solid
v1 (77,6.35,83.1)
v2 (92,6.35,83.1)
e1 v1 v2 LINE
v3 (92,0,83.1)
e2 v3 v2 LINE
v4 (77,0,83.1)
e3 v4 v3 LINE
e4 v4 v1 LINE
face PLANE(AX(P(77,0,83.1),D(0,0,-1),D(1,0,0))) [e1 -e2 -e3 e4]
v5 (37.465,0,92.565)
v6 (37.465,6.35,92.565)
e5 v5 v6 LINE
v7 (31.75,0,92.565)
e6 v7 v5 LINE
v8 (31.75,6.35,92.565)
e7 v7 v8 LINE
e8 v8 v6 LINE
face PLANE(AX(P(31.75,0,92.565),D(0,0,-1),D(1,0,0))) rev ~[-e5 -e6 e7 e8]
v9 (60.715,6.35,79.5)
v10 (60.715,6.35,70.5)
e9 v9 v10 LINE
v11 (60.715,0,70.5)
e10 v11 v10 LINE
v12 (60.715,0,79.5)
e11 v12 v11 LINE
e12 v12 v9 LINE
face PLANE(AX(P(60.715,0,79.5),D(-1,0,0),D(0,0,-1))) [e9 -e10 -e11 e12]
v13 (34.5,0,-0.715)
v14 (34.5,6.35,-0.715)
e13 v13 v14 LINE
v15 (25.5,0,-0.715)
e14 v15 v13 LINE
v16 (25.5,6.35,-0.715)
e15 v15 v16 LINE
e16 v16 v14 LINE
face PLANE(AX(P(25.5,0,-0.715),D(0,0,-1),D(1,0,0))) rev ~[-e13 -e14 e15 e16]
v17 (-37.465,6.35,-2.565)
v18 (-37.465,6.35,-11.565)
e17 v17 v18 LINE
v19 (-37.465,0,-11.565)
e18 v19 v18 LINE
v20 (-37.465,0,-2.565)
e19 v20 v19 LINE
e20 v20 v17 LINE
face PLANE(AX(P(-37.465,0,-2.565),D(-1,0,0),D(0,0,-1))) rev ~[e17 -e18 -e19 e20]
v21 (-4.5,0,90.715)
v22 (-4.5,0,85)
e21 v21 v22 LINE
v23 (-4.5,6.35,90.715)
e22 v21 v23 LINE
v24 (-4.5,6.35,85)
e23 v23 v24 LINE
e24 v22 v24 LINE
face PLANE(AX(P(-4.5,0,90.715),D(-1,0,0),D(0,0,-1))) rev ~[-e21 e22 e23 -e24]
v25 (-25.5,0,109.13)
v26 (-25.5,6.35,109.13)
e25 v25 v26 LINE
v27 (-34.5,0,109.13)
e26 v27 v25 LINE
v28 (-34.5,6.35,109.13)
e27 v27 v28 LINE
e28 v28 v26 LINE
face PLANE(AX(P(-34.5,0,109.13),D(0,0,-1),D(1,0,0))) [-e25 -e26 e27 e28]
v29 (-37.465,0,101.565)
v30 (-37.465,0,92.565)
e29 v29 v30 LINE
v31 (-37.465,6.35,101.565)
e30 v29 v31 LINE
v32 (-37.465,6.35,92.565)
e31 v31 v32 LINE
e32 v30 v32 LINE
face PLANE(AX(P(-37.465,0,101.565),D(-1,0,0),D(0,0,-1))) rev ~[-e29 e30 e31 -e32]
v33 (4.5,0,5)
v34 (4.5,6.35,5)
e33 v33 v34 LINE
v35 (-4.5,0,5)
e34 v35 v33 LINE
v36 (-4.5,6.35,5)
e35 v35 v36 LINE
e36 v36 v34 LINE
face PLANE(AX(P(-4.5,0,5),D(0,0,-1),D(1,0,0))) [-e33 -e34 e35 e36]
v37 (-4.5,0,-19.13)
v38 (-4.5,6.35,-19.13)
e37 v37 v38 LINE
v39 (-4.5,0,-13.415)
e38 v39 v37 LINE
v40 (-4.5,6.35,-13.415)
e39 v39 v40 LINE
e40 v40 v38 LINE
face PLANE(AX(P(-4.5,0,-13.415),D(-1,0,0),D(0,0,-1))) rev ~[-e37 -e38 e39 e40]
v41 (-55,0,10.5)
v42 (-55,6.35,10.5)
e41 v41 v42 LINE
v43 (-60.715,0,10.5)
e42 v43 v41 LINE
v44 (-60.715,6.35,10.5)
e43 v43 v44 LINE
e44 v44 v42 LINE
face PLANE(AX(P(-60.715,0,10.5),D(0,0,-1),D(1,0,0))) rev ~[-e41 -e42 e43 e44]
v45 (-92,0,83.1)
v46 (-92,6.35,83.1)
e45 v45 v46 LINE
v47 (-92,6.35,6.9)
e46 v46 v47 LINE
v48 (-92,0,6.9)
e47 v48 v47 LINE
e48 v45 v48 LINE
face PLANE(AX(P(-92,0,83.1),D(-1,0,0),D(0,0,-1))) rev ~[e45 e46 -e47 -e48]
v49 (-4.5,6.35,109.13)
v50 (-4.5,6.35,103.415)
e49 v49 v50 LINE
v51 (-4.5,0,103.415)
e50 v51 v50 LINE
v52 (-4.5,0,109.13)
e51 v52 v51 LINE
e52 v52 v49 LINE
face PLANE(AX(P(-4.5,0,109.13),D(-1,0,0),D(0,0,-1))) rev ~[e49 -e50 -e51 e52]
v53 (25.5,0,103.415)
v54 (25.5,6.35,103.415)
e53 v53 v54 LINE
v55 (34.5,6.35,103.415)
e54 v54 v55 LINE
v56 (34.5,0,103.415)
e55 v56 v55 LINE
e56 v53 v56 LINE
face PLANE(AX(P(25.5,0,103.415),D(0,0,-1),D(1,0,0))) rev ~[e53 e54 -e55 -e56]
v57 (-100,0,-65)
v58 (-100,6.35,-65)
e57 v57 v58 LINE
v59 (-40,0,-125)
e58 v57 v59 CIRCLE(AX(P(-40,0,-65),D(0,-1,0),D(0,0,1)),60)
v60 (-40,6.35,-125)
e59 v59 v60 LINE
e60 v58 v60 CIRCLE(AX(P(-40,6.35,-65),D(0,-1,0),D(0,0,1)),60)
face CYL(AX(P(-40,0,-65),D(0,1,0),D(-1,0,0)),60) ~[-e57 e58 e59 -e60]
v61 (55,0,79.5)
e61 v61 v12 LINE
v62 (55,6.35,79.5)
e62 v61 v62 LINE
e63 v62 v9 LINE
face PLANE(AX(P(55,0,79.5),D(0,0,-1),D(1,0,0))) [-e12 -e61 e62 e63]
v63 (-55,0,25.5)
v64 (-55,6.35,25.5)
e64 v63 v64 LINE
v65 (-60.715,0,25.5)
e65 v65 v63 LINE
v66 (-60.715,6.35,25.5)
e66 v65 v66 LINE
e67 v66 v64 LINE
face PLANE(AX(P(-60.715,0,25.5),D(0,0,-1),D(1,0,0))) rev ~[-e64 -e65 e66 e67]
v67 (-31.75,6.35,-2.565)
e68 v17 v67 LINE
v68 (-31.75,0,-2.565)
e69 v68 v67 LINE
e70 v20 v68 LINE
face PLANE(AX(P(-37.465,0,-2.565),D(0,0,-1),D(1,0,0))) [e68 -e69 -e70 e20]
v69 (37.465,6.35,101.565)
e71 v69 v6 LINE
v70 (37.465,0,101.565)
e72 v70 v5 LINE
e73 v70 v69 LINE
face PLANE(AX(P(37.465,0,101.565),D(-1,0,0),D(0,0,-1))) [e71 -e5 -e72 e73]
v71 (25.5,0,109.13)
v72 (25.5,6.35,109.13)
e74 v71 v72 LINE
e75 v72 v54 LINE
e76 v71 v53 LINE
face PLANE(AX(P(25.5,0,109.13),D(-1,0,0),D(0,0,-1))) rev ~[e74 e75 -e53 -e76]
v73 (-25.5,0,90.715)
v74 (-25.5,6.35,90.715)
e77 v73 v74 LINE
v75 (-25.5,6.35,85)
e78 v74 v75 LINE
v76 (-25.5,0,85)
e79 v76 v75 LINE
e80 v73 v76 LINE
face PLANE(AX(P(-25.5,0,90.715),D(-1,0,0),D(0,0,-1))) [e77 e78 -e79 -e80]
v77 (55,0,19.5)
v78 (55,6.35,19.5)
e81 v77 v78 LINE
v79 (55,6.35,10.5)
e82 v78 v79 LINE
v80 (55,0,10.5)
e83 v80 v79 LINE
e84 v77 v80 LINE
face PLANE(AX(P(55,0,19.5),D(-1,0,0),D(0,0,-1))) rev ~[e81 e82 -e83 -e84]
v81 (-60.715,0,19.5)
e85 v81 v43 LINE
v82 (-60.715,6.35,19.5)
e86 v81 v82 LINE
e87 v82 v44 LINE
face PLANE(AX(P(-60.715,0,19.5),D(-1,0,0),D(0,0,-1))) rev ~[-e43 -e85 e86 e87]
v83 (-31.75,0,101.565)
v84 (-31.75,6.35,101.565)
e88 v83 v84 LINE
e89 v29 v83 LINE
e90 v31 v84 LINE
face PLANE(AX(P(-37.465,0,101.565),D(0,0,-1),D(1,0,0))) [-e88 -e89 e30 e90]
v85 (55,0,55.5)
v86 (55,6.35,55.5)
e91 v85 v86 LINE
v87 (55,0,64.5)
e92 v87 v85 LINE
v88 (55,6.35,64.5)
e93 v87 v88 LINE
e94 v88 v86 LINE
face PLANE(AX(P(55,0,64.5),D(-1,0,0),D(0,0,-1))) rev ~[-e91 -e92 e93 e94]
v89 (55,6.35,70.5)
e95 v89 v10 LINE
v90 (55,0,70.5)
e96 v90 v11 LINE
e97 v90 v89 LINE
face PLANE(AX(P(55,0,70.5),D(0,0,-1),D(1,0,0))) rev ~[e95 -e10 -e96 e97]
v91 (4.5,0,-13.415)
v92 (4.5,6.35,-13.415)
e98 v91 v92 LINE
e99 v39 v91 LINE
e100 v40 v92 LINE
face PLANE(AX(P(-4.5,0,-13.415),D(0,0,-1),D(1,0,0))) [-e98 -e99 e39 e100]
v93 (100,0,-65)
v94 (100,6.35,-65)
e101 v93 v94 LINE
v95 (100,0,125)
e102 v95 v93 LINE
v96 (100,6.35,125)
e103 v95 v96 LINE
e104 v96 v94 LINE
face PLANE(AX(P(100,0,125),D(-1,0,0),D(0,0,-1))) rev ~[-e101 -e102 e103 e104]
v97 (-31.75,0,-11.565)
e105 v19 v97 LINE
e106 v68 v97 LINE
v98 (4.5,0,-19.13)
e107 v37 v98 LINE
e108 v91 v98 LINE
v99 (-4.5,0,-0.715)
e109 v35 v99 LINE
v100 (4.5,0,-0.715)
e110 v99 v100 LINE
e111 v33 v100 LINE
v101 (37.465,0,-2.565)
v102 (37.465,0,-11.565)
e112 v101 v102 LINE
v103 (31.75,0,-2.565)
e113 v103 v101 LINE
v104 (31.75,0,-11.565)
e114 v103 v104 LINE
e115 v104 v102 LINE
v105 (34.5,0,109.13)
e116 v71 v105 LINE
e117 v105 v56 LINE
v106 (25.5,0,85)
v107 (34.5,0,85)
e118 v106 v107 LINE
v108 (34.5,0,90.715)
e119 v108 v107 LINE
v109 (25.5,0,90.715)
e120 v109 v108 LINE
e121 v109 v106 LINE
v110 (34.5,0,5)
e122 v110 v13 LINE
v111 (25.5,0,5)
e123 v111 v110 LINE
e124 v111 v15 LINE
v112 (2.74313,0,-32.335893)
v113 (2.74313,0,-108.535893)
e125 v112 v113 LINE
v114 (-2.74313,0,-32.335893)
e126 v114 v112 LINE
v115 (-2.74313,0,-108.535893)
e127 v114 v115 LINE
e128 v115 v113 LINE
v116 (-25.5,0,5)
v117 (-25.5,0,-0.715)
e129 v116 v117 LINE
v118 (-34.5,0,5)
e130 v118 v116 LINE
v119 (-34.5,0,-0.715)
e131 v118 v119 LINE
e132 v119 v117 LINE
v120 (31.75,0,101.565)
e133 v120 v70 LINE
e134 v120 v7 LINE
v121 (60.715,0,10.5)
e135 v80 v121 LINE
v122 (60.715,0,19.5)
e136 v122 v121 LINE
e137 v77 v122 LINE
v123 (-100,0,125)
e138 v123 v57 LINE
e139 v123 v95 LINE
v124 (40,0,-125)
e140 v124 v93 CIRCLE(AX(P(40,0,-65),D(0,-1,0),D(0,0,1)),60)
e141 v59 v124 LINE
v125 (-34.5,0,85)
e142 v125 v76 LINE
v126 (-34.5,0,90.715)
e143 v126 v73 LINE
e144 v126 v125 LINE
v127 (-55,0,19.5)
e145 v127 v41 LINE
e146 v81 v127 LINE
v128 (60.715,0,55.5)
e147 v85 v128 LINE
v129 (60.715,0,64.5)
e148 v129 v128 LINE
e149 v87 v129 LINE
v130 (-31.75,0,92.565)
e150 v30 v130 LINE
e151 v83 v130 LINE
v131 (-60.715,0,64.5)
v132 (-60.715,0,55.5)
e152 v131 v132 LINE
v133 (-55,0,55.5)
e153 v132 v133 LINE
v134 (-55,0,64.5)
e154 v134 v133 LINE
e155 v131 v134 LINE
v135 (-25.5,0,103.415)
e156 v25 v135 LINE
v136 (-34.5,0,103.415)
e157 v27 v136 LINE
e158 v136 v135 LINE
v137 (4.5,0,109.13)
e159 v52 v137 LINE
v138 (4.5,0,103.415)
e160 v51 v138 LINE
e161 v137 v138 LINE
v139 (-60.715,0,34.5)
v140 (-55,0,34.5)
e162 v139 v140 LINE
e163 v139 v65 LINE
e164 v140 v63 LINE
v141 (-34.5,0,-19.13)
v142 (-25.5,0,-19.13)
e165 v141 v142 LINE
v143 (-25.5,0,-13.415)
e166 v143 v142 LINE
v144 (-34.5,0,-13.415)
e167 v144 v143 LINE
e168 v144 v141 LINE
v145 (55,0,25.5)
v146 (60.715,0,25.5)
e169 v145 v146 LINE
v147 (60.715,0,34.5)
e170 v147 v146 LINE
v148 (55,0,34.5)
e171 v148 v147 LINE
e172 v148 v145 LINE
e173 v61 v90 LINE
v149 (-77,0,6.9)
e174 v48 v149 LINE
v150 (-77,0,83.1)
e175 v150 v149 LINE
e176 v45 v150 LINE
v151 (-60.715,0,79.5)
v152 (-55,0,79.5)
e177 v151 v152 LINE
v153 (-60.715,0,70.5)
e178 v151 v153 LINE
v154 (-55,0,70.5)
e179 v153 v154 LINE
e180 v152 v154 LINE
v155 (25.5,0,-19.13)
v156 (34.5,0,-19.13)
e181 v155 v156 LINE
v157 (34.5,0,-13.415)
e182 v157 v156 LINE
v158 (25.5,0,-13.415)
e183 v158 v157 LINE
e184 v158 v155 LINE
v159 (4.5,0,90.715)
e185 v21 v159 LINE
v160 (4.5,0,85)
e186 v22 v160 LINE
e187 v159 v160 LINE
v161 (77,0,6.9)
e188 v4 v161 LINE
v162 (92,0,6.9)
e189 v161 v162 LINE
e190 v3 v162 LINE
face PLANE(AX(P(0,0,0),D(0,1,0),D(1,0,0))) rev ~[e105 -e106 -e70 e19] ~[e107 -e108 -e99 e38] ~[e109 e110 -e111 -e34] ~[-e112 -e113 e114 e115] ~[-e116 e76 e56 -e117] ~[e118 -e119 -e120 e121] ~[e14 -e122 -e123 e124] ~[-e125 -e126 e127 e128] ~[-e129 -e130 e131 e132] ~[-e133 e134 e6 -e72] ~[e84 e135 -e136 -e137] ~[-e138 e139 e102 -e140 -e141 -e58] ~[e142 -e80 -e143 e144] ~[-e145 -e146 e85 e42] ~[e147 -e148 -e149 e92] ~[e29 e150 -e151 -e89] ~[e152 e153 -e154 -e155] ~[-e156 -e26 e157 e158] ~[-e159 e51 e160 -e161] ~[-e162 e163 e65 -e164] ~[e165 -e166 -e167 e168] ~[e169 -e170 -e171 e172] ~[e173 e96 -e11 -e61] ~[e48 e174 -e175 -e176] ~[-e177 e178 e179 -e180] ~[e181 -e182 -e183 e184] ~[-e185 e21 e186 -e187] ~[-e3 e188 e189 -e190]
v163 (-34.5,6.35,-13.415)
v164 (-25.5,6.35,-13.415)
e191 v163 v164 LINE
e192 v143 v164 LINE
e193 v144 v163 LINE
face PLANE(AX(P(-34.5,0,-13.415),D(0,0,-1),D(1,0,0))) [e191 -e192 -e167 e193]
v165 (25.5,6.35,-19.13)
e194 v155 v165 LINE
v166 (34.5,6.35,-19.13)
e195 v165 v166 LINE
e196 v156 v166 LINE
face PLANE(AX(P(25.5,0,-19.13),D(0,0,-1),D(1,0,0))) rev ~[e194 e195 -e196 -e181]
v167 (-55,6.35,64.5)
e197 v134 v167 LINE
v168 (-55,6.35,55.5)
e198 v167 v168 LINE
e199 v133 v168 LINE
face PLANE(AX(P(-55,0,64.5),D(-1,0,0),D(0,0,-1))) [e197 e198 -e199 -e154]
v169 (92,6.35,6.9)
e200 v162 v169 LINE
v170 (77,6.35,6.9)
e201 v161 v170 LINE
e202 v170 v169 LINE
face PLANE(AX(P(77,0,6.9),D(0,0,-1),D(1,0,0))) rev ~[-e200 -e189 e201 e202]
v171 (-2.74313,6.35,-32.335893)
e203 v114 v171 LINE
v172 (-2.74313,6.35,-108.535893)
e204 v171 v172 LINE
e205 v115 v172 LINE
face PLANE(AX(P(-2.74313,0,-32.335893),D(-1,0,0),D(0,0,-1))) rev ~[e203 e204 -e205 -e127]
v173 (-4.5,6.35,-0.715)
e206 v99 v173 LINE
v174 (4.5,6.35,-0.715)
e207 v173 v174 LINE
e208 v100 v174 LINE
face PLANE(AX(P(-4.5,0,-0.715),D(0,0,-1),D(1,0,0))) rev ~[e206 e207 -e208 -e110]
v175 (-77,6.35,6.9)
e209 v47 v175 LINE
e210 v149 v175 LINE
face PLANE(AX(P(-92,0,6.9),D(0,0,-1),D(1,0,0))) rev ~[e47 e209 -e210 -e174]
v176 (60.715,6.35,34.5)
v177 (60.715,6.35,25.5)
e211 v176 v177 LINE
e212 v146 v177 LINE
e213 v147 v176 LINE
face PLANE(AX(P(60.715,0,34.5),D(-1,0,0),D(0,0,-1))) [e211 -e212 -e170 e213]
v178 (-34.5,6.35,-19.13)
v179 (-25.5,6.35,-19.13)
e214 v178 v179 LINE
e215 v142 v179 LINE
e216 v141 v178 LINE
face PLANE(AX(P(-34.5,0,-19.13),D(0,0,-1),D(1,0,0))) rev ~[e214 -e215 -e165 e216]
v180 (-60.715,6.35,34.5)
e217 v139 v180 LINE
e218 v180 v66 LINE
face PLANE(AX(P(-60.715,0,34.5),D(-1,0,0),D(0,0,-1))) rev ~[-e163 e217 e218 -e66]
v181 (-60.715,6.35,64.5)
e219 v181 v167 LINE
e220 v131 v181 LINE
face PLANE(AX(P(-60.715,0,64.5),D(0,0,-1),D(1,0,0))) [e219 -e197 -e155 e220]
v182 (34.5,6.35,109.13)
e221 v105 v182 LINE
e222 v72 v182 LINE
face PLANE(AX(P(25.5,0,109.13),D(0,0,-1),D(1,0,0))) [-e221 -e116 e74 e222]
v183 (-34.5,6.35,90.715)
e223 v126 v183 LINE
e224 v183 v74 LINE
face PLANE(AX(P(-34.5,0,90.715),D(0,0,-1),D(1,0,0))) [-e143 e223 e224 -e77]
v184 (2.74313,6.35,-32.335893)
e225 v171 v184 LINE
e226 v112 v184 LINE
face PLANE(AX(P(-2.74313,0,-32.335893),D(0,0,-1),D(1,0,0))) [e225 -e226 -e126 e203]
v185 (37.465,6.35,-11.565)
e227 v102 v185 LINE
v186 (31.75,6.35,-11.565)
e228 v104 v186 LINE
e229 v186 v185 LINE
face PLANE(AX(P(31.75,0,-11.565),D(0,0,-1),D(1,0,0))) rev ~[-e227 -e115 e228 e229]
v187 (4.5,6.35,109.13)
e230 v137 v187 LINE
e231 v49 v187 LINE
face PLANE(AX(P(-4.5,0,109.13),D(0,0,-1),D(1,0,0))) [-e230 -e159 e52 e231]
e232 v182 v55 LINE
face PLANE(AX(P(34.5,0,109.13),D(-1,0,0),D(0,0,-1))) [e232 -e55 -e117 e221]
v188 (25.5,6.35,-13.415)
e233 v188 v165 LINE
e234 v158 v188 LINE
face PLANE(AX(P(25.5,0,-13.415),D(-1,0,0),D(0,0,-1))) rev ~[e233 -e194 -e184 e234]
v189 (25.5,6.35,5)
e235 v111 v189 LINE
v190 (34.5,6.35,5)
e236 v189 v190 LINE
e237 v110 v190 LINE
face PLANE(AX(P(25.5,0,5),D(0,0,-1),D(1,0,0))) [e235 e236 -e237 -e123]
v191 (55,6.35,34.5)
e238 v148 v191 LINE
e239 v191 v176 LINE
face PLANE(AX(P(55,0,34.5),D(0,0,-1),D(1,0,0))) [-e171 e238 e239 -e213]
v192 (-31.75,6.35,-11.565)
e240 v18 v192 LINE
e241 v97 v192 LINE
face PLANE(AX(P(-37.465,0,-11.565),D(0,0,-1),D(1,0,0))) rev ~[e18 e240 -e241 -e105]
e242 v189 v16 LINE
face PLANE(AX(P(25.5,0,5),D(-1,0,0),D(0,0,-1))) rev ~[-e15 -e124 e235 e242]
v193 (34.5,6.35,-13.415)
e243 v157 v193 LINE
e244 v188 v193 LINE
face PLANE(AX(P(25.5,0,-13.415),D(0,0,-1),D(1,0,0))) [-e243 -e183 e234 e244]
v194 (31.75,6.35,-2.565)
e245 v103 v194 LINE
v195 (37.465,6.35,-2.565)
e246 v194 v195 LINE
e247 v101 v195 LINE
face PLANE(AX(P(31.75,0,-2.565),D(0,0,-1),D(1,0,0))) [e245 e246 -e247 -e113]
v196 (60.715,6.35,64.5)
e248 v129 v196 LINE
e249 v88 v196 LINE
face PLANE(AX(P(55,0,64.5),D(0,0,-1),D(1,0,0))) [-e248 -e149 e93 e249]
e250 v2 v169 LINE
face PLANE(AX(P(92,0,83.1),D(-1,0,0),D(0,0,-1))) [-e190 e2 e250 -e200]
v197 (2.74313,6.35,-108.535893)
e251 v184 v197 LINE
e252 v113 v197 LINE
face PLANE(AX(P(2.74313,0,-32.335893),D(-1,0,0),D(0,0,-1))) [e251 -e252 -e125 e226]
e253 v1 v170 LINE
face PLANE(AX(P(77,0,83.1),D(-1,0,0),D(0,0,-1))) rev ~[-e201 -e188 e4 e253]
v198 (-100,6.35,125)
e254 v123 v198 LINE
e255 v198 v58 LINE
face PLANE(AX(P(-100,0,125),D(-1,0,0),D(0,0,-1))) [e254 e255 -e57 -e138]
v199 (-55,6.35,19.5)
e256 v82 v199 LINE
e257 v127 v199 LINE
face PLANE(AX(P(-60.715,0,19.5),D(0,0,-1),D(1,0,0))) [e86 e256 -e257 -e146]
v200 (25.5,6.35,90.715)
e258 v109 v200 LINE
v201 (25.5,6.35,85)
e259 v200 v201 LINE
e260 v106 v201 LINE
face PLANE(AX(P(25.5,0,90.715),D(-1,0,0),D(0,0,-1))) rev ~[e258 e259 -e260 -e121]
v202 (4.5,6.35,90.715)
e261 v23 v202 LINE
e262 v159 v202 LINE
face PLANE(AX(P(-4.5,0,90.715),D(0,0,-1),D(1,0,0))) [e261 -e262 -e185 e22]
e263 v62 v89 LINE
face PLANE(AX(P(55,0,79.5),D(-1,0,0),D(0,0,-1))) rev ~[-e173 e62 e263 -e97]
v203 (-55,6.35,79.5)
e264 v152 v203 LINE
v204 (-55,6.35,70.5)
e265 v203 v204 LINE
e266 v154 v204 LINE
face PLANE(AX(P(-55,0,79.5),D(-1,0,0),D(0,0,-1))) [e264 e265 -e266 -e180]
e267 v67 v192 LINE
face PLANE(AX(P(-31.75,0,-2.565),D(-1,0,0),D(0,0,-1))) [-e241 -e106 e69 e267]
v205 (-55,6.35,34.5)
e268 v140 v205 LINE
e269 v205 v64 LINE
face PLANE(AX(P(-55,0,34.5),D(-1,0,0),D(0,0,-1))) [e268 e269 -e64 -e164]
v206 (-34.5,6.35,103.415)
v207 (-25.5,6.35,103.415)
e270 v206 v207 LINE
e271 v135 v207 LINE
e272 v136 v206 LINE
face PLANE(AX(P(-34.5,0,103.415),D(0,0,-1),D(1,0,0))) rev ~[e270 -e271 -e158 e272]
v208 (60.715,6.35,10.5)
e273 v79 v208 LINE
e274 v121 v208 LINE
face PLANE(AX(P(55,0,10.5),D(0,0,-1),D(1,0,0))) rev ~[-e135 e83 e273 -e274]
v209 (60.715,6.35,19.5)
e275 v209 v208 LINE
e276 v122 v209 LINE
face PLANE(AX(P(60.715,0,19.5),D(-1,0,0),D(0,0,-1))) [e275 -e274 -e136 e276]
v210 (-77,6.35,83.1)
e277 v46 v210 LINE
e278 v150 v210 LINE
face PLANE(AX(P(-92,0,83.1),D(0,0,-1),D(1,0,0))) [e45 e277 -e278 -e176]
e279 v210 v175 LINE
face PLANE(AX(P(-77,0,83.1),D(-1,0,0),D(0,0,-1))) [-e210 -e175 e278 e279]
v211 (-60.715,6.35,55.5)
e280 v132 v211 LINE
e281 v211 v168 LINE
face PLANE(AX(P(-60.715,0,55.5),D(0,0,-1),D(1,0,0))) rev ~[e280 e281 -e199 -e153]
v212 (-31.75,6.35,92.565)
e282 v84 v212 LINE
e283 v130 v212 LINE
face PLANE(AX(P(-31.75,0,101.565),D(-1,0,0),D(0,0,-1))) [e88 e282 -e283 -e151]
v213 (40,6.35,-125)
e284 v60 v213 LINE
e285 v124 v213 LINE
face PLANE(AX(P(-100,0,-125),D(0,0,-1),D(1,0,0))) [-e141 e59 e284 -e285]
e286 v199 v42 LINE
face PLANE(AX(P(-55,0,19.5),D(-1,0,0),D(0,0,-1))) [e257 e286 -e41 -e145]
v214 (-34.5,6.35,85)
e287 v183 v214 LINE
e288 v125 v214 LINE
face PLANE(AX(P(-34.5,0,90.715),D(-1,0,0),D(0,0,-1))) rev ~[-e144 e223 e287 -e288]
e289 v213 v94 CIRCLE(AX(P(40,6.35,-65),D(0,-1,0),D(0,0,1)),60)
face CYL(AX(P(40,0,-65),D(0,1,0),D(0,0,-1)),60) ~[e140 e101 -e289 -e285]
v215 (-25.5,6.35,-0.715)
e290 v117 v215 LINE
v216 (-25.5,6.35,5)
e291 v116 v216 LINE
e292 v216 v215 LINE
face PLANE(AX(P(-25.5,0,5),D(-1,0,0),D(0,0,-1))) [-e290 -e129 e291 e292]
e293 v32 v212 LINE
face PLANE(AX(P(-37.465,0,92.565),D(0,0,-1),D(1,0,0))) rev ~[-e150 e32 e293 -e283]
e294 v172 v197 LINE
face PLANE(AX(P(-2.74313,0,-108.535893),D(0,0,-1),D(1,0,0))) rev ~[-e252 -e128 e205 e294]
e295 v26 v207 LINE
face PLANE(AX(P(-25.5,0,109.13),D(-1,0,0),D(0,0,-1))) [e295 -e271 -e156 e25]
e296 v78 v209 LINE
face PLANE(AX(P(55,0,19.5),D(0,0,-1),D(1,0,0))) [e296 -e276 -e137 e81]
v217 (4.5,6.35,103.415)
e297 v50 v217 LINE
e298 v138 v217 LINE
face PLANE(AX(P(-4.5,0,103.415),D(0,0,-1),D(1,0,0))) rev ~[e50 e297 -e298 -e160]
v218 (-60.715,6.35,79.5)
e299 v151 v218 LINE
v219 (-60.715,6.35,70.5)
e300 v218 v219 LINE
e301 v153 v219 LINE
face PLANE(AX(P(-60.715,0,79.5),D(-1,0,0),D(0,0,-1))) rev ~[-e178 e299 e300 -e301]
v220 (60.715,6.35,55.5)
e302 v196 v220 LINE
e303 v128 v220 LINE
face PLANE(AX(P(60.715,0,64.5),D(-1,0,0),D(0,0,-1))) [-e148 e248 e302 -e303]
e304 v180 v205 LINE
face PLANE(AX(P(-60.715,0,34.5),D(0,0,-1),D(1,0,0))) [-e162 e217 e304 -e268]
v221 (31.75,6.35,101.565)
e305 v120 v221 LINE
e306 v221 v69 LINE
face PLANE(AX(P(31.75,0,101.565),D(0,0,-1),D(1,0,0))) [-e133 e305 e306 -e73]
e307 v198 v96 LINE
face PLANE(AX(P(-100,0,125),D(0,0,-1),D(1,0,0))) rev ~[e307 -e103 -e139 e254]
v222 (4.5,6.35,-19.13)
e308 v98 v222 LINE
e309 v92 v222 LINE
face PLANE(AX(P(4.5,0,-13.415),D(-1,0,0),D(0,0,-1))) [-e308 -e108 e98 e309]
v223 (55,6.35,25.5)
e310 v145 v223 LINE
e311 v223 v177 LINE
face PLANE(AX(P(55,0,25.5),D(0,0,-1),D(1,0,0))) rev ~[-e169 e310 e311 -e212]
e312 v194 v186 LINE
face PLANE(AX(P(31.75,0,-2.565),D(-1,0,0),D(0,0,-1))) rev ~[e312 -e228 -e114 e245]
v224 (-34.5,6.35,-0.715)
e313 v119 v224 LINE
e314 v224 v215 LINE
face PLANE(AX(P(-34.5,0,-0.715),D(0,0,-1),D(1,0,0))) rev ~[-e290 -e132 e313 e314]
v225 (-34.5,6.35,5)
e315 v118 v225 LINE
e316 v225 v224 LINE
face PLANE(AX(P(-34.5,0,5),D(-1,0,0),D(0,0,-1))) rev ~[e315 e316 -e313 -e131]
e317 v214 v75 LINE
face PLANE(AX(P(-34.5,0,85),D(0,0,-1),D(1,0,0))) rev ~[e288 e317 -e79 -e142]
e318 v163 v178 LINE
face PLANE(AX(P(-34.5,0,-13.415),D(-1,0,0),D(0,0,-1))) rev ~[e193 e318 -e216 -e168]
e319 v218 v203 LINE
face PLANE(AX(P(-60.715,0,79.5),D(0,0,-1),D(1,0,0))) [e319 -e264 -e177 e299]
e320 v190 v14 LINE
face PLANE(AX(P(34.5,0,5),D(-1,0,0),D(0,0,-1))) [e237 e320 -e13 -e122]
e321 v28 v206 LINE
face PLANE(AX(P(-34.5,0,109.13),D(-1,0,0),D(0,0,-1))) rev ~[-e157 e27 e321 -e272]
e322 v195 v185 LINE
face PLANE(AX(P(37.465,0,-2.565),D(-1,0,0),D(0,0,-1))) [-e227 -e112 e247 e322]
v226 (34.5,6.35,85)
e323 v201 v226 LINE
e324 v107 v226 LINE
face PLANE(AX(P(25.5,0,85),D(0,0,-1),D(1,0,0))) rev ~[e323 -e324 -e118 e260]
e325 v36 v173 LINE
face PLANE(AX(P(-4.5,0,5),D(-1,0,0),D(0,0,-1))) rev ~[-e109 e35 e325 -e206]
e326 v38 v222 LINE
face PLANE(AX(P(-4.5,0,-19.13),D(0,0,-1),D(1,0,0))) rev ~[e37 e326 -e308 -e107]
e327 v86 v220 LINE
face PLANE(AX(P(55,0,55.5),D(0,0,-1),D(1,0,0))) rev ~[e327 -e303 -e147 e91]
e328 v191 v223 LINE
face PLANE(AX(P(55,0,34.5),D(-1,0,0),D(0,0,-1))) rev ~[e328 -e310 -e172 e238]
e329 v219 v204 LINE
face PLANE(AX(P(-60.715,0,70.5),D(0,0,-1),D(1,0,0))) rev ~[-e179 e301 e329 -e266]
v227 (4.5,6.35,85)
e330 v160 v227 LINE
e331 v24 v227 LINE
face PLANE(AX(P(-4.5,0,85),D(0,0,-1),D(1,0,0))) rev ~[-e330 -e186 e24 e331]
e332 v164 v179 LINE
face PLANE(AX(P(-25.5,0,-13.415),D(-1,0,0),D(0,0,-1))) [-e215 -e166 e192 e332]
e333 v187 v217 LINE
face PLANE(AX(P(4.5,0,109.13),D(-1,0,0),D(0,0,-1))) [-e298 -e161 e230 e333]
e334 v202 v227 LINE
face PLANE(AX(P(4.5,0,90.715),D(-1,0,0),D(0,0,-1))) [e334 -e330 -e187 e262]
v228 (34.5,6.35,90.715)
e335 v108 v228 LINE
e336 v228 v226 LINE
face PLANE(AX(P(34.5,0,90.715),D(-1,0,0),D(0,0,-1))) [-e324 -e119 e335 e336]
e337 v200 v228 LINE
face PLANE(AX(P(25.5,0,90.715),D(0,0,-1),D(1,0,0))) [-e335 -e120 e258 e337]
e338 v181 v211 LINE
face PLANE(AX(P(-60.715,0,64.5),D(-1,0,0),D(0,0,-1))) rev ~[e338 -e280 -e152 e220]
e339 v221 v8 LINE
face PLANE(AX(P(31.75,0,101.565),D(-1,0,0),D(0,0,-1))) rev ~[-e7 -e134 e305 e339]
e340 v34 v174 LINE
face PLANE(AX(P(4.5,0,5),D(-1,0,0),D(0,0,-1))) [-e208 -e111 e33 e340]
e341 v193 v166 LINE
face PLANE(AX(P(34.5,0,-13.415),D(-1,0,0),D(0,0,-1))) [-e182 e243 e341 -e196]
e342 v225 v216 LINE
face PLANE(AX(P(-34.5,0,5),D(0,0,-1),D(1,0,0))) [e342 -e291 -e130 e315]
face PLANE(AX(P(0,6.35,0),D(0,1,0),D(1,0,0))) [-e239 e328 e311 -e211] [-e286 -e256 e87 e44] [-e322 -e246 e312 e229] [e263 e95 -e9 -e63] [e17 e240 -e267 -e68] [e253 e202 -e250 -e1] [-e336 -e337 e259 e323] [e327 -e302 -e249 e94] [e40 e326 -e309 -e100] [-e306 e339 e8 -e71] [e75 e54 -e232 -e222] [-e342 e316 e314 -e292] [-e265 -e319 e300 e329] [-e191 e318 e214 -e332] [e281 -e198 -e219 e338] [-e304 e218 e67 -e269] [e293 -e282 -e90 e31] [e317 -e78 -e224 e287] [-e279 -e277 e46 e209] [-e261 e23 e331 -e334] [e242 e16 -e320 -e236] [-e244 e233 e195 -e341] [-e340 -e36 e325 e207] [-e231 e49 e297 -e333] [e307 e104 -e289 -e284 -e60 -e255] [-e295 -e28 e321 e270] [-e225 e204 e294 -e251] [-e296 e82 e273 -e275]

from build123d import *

# Parameters (mm, degrees)
SKETCH1_W           = 200
SKETCH1_H           = 250
SKETCH1_W_2         = 5.4862609
SKETCH1_H_2         = 76.2
SKETCH1_W_3         = 5.715
SKETCH1_H_3         = 9
SKETCH1_W_4         = 9
SKETCH1_H_4         = 5.715
SKETCH1_W_5         = 15
BOSS_EXTRUDE1_DEPTH = 6.35
FILLET1_R           = 60


with BuildPart() as part:
    # Sketch1 → Boss-Extrude1 (new body)
    with BuildSketch(Plane(origin=(0, 0, 0), x_dir=(1, 0, 0), z_dir=(0, 1, 0))):
        Rectangle(SKETCH1_W, SKETCH1_H)
        with Locations((0, 70.435892683)):
            Rectangle(SKETCH1_W_2, SKETCH1_H_2, mode=Mode.SUBTRACT)
        with Locations((57.8575, -60)):
            Rectangle(SKETCH1_W_3, SKETCH1_H_3, mode=Mode.SUBTRACT)
        with Locations((57.8575, -30)):
            Rectangle(SKETCH1_W_3, SKETCH1_H_3, mode=Mode.SUBTRACT)
        with Locations((0, -87.8575)):
            Rectangle(SKETCH1_W_4, SKETCH1_H_4, mode=Mode.SUBTRACT)
        with Locations((-57.8575, -60)):
            Rectangle(SKETCH1_W_3, SKETCH1_H_3, mode=Mode.SUBTRACT)
        with Locations((-57.8575, -30)):
            Rectangle(SKETCH1_W_3, SKETCH1_H_3, mode=Mode.SUBTRACT)
        with Locations((30, -87.8575)):
            Rectangle(SKETCH1_W_4, SKETCH1_H_4, mode=Mode.SUBTRACT)
        with Locations((-84.5, -45)):
            Rectangle(SKETCH1_W_5, SKETCH1_H_2, mode=Mode.SUBTRACT)
        with Locations((-30, -87.8575)):
            Rectangle(SKETCH1_W_4, SKETCH1_H_4, mode=Mode.SUBTRACT)
        with Locations((30, -106.2725)):
            Rectangle(SKETCH1_W_4, SKETCH1_H_4, mode=Mode.SUBTRACT)
        with Locations((0, -106.2725)):
            Rectangle(SKETCH1_W_4, SKETCH1_H_4, mode=Mode.SUBTRACT)
        with Locations((-30, -106.2725)):
            Rectangle(SKETCH1_W_4, SKETCH1_H_4, mode=Mode.SUBTRACT)
        with Locations((0, -2.1425)):
            Rectangle(SKETCH1_W_4, SKETCH1_H_4, mode=Mode.SUBTRACT)
        with Locations((30, -2.1425)):
            Rectangle(SKETCH1_W_4, SKETCH1_H_4, mode=Mode.SUBTRACT)
        with Locations((30, 16.2725)):
            Rectangle(SKETCH1_W_4, SKETCH1_H_4, mode=Mode.SUBTRACT)
        with Locations((0, 16.2725)):
            Rectangle(SKETCH1_W_4, SKETCH1_H_4, mode=Mode.SUBTRACT)
        with Locations((-30, 16.2725)):
            Rectangle(SKETCH1_W_4, SKETCH1_H_4, mode=Mode.SUBTRACT)
        with Locations((-30, -2.1425)):
            Rectangle(SKETCH1_W_4, SKETCH1_H_4, mode=Mode.SUBTRACT)
        with Locations((84.5, -45)):
            Rectangle(SKETCH1_W_5, SKETCH1_H_2, mode=Mode.SUBTRACT)
        with Locations((57.8575, -75)):
            Rectangle(SKETCH1_W_3, SKETCH1_H_3, mode=Mode.SUBTRACT)
        with Locations((-57.8575, -75)):
            Rectangle(SKETCH1_W_3, SKETCH1_H_3, mode=Mode.SUBTRACT)
        with Locations((57.8575, -15)):
            Rectangle(SKETCH1_W_3, SKETCH1_H_3, mode=Mode.SUBTRACT)
        with Locations((-57.8575, -15)):
            Rectangle(SKETCH1_W_3, SKETCH1_H_3, mode=Mode.SUBTRACT)
        with Locations((34.6075, -97.065)):
            Rectangle(SKETCH1_W_3, SKETCH1_H_3, mode=Mode.SUBTRACT)
        with Locations((-34.6075, -97.065)):
            Rectangle(SKETCH1_W_3, SKETCH1_H_3, mode=Mode.SUBTRACT)
        with Locations((34.6075, 7.065)):
            Rectangle(SKETCH1_W_3, SKETCH1_H_3, mode=Mode.SUBTRACT)
        with Locations((-34.6075, 7.065)):
            Rectangle(SKETCH1_W_3, SKETCH1_H_3, mode=Mode.SUBTRACT)
    extrude(amount=BOSS_EXTRUDE1_DEPTH)

    # Fillet1
    fillet1_edges = [part.edges().sort_by_distance(p)[0] for p in [
        (-100, 3.175, -125),
        (100, 3.175, -125),
    ]]
    fillet(fillet1_edges, radius=FILLET1_R)


solid = part.part
